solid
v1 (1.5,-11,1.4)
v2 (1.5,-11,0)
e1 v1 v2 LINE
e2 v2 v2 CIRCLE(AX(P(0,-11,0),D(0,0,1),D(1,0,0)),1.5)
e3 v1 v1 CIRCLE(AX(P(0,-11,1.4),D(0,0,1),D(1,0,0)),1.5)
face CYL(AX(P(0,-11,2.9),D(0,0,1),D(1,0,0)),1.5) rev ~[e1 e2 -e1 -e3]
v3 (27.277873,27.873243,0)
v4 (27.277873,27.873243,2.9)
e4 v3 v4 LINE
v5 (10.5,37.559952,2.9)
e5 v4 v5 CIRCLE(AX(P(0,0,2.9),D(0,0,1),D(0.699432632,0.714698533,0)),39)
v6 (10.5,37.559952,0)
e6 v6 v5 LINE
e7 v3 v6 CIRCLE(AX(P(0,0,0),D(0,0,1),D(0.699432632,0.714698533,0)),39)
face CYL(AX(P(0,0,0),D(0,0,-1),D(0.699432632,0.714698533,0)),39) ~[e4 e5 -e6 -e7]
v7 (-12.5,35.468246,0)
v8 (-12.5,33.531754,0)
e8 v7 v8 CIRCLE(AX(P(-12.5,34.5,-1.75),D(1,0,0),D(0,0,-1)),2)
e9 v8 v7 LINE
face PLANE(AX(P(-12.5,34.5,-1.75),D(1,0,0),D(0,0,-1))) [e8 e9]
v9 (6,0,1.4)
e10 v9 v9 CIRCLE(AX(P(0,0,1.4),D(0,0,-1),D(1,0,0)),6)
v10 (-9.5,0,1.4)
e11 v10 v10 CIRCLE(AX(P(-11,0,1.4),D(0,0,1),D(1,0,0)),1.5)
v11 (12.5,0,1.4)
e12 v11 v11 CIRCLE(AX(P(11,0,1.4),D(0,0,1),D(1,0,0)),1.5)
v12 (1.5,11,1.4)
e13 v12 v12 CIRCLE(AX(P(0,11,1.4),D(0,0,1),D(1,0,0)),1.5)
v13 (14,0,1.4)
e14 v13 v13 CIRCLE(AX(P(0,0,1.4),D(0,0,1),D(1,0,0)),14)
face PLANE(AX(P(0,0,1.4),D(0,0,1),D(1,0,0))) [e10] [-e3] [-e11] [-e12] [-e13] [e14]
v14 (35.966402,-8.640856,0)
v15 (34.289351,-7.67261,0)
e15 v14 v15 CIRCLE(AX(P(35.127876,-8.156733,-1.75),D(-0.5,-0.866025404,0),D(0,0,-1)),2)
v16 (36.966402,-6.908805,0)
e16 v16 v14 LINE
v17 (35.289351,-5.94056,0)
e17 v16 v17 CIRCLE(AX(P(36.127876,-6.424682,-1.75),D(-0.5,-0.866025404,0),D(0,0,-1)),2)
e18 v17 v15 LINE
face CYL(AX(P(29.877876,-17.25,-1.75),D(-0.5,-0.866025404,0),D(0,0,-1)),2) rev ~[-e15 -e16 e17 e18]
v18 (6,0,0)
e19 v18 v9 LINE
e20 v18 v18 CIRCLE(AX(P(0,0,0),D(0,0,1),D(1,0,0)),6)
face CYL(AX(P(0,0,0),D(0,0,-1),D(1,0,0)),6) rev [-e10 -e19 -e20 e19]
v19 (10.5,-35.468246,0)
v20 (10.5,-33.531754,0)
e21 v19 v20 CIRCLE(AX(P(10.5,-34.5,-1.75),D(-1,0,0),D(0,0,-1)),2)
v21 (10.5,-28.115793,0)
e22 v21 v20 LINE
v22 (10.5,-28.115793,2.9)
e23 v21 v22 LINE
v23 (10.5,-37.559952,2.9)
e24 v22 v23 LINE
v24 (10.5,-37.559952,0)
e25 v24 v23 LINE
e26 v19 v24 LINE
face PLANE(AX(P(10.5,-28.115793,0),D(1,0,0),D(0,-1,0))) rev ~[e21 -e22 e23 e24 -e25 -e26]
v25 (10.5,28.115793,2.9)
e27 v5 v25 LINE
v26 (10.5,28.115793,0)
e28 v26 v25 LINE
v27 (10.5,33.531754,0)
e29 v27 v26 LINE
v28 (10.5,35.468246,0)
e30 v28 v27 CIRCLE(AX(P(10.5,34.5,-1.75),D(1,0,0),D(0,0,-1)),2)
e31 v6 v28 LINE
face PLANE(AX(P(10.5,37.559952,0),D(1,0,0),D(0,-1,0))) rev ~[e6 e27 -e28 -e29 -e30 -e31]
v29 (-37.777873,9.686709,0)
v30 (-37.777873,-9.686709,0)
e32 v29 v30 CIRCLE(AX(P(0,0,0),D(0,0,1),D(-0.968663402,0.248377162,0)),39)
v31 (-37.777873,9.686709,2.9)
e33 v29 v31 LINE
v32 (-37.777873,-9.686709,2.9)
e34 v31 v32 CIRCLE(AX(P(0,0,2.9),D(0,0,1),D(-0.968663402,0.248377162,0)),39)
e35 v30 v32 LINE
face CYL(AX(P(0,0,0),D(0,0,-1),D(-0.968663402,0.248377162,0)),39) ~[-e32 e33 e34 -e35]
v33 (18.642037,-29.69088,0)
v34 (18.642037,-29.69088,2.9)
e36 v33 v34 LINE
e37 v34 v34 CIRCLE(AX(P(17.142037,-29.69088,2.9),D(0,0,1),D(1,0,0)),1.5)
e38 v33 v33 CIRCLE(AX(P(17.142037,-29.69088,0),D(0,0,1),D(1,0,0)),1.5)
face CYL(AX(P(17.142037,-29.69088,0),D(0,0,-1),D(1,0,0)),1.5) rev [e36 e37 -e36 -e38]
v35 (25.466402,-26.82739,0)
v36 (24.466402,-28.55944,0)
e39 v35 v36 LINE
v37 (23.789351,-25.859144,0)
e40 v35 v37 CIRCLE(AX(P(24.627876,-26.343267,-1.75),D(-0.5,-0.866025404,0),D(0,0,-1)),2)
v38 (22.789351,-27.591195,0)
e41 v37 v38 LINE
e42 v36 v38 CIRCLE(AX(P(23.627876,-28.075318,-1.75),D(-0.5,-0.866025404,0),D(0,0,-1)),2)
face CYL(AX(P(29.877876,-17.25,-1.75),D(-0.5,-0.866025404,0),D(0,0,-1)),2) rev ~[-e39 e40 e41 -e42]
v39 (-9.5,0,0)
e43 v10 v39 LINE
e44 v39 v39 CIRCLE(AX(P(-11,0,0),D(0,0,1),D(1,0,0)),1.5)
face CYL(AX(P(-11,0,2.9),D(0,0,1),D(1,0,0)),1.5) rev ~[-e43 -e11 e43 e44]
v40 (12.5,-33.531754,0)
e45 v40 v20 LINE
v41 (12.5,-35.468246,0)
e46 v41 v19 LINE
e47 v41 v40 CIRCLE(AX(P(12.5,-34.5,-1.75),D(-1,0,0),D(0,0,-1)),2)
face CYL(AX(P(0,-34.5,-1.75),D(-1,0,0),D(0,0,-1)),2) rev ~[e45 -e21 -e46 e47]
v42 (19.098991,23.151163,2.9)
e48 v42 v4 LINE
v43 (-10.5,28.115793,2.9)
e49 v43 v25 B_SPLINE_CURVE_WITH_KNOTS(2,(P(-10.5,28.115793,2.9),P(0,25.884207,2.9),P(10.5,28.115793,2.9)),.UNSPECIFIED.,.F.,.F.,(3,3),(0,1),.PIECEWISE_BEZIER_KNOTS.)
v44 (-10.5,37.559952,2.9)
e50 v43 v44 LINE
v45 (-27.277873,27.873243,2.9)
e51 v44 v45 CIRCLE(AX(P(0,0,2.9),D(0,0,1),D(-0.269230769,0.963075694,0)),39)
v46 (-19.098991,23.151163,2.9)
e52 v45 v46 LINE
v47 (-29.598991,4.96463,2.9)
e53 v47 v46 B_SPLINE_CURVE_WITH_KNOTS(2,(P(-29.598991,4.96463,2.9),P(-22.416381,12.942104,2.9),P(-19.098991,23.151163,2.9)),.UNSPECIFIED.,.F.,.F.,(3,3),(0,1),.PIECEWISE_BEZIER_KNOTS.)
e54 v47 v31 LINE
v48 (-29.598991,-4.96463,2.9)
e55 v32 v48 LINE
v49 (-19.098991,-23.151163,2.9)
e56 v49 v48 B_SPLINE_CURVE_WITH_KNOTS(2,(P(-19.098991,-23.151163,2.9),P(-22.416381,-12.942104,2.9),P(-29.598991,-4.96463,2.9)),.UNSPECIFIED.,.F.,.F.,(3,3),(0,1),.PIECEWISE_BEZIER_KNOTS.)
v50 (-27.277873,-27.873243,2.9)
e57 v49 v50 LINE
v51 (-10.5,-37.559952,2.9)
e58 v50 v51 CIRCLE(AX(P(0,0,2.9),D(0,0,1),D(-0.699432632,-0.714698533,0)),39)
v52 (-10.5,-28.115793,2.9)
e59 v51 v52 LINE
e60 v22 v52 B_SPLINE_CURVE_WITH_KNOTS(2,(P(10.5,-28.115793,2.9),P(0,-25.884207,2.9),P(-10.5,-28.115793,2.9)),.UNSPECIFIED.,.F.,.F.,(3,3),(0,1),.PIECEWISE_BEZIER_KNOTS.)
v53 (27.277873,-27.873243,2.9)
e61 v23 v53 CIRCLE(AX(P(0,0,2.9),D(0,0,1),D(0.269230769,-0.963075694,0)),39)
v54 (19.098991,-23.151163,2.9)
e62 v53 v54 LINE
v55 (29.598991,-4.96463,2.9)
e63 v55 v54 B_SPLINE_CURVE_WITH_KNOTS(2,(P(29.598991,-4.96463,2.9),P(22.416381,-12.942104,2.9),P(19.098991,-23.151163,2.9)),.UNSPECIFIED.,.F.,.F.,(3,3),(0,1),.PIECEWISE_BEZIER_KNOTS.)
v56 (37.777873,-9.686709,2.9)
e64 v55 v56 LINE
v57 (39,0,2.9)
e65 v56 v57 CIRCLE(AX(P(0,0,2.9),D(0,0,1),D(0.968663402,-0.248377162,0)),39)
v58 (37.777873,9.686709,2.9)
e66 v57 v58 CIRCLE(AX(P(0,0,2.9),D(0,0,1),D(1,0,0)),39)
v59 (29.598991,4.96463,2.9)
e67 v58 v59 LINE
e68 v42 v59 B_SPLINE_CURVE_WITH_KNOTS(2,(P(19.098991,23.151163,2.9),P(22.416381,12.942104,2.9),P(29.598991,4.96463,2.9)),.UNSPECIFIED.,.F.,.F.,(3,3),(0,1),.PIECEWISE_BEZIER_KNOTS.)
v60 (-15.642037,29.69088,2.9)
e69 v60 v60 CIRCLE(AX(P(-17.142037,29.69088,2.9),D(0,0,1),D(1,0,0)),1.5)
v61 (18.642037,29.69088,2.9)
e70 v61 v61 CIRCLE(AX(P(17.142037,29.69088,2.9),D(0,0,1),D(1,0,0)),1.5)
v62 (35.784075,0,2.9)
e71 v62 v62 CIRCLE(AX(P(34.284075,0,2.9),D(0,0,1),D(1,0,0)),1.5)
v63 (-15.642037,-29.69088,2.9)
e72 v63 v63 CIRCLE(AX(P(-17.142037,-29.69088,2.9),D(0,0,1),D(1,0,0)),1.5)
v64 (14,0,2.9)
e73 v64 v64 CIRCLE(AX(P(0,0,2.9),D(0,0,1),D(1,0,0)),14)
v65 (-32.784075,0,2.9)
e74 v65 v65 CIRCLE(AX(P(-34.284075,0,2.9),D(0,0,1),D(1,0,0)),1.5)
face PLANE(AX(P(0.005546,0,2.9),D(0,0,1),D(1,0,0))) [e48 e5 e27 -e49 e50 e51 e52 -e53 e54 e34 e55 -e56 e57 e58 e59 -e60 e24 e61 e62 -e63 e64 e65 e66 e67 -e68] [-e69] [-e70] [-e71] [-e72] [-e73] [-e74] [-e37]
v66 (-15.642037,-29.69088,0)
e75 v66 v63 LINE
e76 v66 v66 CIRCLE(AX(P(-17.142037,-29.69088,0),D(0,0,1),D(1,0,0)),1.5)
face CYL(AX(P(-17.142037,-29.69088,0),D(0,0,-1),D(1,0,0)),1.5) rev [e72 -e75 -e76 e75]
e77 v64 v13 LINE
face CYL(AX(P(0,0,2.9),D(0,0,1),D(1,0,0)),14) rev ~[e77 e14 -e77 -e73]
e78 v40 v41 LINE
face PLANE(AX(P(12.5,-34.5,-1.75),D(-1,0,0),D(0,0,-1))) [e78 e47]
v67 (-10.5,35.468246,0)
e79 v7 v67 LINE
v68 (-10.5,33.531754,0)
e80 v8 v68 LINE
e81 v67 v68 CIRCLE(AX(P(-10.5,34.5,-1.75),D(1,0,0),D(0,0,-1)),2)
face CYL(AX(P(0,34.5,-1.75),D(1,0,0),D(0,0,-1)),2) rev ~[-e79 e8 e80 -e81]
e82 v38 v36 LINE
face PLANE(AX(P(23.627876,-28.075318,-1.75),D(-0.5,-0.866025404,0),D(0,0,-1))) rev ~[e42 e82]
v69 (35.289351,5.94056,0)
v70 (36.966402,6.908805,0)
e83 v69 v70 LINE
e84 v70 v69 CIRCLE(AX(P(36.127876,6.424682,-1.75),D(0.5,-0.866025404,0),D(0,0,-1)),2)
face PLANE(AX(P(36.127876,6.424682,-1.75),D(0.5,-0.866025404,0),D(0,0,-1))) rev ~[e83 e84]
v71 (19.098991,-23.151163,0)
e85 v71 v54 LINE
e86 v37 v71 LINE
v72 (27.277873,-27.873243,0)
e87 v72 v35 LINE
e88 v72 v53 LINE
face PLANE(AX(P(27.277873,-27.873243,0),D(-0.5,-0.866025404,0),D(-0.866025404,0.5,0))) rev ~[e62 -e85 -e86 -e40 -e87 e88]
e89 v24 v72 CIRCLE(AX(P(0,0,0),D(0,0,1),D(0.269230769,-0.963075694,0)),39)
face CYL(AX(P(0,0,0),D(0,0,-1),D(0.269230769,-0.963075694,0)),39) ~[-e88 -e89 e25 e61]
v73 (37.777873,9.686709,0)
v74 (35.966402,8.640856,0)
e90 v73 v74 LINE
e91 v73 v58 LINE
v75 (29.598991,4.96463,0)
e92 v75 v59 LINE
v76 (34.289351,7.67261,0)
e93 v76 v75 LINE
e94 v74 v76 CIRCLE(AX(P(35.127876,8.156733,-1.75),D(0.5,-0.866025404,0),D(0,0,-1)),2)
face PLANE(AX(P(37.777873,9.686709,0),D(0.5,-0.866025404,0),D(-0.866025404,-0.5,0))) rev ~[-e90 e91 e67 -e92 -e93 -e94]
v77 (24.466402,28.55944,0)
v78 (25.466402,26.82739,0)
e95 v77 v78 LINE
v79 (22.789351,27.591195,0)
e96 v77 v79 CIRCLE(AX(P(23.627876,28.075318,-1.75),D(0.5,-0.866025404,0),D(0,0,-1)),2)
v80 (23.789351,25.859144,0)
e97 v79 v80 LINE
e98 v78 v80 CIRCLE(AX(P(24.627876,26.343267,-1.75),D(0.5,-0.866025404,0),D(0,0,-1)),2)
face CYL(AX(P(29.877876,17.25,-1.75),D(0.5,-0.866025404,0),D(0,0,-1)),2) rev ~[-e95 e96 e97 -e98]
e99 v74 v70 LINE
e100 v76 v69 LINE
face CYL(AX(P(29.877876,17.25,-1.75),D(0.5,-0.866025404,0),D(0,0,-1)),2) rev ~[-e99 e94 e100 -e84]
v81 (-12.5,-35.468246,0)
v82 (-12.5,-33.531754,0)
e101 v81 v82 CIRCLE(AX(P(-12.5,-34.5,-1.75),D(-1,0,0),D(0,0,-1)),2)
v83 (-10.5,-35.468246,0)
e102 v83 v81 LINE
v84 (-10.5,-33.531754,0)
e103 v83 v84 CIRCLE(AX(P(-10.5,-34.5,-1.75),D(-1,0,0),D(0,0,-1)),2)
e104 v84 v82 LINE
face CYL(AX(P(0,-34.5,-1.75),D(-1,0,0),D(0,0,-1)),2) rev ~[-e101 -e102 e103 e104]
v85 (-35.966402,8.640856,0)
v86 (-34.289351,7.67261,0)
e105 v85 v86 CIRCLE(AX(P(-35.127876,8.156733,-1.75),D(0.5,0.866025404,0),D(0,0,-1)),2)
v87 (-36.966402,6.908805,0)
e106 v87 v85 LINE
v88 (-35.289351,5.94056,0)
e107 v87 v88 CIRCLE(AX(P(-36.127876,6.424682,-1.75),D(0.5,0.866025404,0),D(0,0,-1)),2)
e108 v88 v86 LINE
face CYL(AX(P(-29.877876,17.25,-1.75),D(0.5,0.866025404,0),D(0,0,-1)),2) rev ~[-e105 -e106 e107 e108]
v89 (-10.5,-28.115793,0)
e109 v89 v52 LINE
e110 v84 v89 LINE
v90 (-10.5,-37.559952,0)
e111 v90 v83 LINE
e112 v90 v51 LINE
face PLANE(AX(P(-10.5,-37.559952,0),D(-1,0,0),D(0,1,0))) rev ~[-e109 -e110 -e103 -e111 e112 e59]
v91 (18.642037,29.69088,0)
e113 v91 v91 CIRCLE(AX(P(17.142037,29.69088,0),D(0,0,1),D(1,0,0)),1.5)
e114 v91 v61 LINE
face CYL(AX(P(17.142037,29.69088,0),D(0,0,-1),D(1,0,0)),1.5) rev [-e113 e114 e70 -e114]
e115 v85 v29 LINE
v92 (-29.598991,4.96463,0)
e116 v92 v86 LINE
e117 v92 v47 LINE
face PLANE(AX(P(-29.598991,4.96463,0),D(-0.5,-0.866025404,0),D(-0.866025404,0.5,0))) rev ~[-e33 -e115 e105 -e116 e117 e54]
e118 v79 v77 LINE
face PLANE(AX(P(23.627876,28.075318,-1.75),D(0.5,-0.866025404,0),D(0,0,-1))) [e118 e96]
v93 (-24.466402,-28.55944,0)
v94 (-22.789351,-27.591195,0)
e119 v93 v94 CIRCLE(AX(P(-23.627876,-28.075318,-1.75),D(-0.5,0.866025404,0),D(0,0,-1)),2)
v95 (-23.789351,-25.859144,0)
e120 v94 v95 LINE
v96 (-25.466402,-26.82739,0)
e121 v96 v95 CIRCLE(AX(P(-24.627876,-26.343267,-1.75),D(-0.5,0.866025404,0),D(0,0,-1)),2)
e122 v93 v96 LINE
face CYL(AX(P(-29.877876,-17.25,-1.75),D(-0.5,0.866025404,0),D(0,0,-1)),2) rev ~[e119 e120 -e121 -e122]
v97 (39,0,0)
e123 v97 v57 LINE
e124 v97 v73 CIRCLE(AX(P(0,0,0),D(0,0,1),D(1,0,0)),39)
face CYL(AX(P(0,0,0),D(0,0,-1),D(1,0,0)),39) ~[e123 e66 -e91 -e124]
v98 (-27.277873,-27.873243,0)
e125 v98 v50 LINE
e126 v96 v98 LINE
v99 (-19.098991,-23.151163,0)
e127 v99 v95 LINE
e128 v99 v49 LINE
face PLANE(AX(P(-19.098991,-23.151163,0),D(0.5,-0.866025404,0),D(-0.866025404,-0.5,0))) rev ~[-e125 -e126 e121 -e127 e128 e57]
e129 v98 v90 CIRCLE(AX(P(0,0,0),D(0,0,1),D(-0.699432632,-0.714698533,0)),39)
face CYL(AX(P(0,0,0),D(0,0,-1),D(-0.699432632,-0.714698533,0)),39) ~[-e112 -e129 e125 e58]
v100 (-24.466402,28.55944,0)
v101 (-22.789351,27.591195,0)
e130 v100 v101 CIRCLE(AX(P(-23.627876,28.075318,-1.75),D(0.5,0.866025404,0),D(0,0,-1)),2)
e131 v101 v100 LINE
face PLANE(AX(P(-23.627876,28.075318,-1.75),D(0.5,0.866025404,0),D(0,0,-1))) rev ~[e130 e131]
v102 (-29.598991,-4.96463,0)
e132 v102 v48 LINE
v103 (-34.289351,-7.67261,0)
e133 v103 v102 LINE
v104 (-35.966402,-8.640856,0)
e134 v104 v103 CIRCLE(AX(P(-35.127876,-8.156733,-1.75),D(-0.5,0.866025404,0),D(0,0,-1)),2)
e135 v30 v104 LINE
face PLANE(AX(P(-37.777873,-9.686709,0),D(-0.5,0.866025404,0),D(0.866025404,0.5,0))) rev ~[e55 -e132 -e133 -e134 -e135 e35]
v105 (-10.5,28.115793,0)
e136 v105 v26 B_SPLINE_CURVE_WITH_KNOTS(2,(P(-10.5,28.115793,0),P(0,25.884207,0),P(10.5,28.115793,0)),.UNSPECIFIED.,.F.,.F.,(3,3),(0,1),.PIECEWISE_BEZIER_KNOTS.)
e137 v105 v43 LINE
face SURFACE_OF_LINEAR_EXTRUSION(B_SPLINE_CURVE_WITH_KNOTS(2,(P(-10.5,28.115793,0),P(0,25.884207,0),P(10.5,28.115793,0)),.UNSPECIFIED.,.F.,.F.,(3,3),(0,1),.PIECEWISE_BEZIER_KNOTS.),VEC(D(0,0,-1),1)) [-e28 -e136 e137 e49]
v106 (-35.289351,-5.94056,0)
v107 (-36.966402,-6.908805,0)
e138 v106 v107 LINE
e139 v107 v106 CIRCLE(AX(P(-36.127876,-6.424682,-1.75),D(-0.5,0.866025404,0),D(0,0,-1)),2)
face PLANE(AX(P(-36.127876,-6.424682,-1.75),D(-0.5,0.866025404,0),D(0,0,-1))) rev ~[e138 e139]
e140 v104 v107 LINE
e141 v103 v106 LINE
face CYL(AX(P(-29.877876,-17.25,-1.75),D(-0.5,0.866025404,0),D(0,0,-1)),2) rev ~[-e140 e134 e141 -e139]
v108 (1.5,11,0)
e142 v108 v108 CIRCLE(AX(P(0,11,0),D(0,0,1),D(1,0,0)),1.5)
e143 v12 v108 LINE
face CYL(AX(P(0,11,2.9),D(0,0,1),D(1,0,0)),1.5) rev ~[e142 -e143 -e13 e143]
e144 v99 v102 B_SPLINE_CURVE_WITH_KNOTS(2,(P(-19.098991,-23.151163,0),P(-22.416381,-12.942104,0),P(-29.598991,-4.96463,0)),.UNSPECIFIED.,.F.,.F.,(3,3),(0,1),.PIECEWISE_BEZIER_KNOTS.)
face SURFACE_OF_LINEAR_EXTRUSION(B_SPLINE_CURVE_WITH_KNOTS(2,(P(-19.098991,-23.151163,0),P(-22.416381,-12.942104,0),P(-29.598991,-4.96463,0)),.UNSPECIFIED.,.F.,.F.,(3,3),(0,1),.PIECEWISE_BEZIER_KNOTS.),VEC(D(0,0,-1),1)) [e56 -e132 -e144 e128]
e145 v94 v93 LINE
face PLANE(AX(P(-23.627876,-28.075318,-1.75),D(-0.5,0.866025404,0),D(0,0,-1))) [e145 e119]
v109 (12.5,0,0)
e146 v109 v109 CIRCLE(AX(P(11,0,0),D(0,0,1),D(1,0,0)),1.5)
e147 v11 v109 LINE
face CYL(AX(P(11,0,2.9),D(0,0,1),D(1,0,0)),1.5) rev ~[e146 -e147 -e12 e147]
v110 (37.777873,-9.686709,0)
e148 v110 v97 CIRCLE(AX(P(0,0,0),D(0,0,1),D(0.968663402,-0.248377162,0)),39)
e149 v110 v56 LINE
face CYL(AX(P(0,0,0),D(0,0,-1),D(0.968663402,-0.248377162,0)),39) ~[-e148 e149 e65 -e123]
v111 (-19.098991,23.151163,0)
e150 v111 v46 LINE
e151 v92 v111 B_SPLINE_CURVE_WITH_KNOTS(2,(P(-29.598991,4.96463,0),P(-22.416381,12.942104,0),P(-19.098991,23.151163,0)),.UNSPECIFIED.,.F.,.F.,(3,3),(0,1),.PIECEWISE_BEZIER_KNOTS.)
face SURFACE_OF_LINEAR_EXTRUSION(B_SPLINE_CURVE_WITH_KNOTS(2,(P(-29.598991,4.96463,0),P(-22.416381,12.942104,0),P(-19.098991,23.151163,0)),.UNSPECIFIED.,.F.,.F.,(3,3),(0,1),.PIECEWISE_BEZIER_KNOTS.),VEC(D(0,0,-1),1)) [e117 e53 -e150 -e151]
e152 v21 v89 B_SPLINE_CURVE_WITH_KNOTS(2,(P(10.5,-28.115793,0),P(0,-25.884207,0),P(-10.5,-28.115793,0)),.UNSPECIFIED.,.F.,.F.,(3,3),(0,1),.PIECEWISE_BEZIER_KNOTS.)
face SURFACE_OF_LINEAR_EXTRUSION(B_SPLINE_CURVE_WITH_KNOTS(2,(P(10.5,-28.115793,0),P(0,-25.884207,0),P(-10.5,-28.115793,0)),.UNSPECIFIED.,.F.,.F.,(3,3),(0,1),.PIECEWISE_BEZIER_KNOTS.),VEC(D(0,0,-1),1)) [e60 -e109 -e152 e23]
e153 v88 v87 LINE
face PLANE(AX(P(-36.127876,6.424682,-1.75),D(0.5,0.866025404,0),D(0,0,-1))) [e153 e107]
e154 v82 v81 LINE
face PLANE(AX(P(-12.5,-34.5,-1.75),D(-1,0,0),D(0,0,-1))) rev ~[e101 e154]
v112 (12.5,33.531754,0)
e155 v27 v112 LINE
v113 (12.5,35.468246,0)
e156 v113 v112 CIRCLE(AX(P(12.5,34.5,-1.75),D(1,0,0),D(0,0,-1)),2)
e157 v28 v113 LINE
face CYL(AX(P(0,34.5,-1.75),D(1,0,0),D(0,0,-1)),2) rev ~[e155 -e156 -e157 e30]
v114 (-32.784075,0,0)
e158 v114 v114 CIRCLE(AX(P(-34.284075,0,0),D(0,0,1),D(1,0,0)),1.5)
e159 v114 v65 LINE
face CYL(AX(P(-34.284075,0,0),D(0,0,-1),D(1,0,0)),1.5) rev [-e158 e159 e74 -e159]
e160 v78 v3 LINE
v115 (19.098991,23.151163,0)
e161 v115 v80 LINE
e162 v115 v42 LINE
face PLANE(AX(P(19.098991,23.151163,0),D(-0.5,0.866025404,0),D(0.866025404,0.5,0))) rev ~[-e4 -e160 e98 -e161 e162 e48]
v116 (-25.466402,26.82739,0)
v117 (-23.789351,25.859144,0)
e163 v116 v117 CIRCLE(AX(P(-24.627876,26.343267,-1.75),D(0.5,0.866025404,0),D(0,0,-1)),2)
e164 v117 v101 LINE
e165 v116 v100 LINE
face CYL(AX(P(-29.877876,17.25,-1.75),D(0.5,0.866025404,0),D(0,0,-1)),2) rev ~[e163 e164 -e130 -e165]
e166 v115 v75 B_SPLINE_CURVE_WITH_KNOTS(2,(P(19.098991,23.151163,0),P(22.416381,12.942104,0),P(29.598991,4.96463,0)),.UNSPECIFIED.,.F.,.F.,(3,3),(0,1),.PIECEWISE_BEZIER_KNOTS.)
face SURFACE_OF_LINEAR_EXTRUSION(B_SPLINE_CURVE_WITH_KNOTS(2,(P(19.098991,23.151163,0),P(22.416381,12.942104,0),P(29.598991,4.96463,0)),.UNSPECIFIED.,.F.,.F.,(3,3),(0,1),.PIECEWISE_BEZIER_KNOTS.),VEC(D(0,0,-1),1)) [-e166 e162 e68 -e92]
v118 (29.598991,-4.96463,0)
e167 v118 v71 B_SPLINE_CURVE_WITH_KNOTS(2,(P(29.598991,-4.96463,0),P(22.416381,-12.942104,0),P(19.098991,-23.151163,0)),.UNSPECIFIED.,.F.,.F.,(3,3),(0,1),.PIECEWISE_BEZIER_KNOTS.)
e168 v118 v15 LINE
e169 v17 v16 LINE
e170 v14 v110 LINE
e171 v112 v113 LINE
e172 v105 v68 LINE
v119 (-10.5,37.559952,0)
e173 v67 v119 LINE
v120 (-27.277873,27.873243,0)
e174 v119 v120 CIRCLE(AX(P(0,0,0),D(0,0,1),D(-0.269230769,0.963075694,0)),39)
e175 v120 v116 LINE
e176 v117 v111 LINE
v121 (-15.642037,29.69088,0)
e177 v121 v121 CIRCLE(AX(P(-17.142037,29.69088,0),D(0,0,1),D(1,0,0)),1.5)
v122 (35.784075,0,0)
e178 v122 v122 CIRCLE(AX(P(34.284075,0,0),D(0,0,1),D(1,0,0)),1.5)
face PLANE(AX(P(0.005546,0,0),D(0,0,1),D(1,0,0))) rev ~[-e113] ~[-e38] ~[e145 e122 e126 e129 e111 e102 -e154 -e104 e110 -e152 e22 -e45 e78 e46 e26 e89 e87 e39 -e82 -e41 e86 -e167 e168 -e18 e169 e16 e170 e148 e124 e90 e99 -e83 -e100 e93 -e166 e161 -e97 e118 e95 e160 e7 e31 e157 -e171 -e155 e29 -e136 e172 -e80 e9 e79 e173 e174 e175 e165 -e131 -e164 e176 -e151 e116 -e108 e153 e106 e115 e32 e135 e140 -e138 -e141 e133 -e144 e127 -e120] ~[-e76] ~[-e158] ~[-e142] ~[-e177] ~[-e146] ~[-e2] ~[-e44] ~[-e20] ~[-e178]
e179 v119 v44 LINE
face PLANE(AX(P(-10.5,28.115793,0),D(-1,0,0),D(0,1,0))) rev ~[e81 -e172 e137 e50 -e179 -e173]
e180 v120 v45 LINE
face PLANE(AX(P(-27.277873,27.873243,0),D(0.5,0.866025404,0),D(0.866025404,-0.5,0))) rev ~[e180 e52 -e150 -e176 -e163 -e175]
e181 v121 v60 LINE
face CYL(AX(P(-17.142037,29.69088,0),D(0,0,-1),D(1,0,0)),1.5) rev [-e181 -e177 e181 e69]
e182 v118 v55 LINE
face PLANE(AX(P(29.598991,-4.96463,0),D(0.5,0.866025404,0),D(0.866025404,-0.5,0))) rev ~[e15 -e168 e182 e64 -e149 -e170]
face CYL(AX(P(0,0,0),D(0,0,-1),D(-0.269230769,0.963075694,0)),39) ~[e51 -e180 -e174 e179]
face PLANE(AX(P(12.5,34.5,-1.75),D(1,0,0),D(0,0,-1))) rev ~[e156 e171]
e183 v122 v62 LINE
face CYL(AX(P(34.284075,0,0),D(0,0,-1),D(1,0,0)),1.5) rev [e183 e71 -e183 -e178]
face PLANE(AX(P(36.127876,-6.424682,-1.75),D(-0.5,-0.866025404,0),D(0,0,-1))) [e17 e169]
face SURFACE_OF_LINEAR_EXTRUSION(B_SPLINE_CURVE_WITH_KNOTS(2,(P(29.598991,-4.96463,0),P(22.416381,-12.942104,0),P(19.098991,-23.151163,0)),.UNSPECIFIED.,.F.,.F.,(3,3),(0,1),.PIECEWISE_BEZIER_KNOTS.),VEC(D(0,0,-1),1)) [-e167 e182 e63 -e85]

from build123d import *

# Parameters (mm, degrees)
CROQUIS2_R              = 1.5
CROQUIS2_R_2            = 6
SALIENTE_EXTRUIR2_DEPTH = 2.9
CROQUIS4_R              = 2
CORTAR_EXTRUIR1_DEPTH   = 12.5
MATRIZC1_COUNT          = 6
CROQUIS5_R              = 1.5
CORTAR_EXTRUIR2_DEPTH   = 10
CROQUIS6_R              = 14
CORTAR_EXTRUIR3_DEPTH   = 1.5


with BuildPart() as part:
    # Croquis2 → Saliente-Extruir2 (new body)
    with BuildSketch(Plane.XY):
        with BuildLine():
            Line((-10.5, 28.115792599), (-10.5, 37.559952077))
            ThreePointArc((-10.5, 37.559952077), (-19.5, 33.774990748), (-27.277872663, 27.873242778))
            Line((-27.277872663, 27.873242778), (-19.098990638, 23.151163039))
            add(Edge.make_bspline(
                [(-29.598990638, 4.96462956), (-22.416381166, 12.9421037), (-19.098990638, 23.151163039)],
                knots=[0, 0, 0, 1, 1, 1], degree=2))
            Line((-29.598990638, 4.96462956), (-37.777872663, 9.686709299))
            ThreePointArc((-37.777872663, 9.686709299), (-39, 0), (-37.777872663, -9.686709299))
            Line((-37.777872663, -9.686709299), (-29.598990638, -4.96462956))
            add(Edge.make_bspline(
                [(-19.098990638, -23.151163039), (-22.416381166, -12.9421037), (-29.598990638, -4.96462956)],
                knots=[0, 0, 0, 1, 1, 1], degree=2))
            Line((-19.098990638, -23.151163039), (-27.277872663, -27.873242778))
            ThreePointArc((-27.277872663, -27.873242778), (-19.5, -33.774990748), (-10.5, -37.559952077))
            Line((-10.5, -37.559952077), (-10.5, -28.115792599))
            add(Edge.make_bspline(
                [(10.5, -28.115792599), (0, -25.884207401), (-10.5, -28.115792599)],
                knots=[0, 0, 0, 1, 1, 1], degree=2))
            Line((10.5, -28.115792599), (10.5, -37.559952077))
            ThreePointArc((10.5, -37.559952077), (19.5, -33.774990748), (27.277872663, -27.873242778))
            Line((27.277872663, -27.873242778), (19.098990638, -23.151163039))
            add(Edge.make_bspline(
                [(29.598990638, -4.96462956), (22.416381166, -12.9421037), (19.098990638, -23.151163039)],
                knots=[0, 0, 0, 1, 1, 1], degree=2))
            Line((29.598990638, -4.96462956), (37.777872663, -9.686709299))
            ThreePointArc((37.777872663, -9.686709299), (38.693261906, -4.88175), (39, 0))
            ThreePointArc((39, 0), (38.693261906, 4.88175), (37.777872663, 9.686709299))
            Line((37.777872663, 9.686709299), (29.598990638, 4.96462956))
            add(Edge.make_bspline(
                [(19.098990638, 23.151163039), (22.416381166, 12.9421037), (29.598990638, 4.96462956)],
                knots=[0, 0, 0, 1, 1, 1], degree=2))
            Line((19.098990638, 23.151163039), (27.277872663, 27.873242778))
            ThreePointArc((27.277872663, 27.873242778), (19.5, 33.774990748), (10.5, 37.559952077))
            Line((10.5, 37.559952077), (10.5, 28.115792599))
            add(Edge.make_bspline(
                [(-10.5, 28.115792599), (0, 25.884207401), (10.5, 28.115792599)],
                knots=[0, 0, 0, 1, 1, 1], degree=2))
        make_face()
        with Locations((-17.142037335, -29.69087961)):
            Circle(CROQUIS2_R, mode=Mode.SUBTRACT)
        with Locations((-34.28407467, 0)):
            Circle(CROQUIS2_R, mode=Mode.SUBTRACT)
        with Locations((17.142037335, -29.69087961)):
            Circle(CROQUIS2_R, mode=Mode.SUBTRACT)
        with Locations((-17.142037335, 29.69087961)):
            Circle(CROQUIS2_R, mode=Mode.SUBTRACT)
        Circle(CROQUIS2_R_2, mode=Mode.SUBTRACT)
        with Locations((34.28407467, 0)):
            Circle(CROQUIS2_R, mode=Mode.SUBTRACT)
        with Locations((17.142037335, 29.69087961)):
            Circle(CROQUIS2_R, mode=Mode.SUBTRACT)
    extrude(amount=SALIENTE_EXTRUIR2_DEPTH)

    # Croquis4 → Cortar-Extruir1 (cut, symmetric)
    with BuildSketch(Plane(origin=(0, 0, 0), x_dir=(0, 0, -1), z_dir=(1, 0, 0))):
        with Locations((1.75, 34.5)):
            Circle(CROQUIS4_R)
    cortar_extruir1 = extrude(amount=CORTAR_EXTRUIR1_DEPTH, both=True, mode=Mode.SUBTRACT)

    # MatrizC1: Cortar-Extruir1 ×6 about axis
    matrizc1_axis = Axis((0, 0, 0), (0, 0, 1))
    for i in range(1, MATRIZC1_COUNT):
        add(cortar_extruir1.rotate(matrizc1_axis, i * 360 / MATRIZC1_COUNT), mode=Mode.SUBTRACT)

    # Croquis5 → Cortar-Extruir2 (cut)
    with BuildSketch(Plane.XY.offset(2.9)):
        with Locations((11, 0)):
            Circle(CROQUIS5_R)
        with Locations((0, -11)):
            Circle(CROQUIS5_R)
        with Locations((-11, 0)):
            Circle(CROQUIS5_R)
        with Locations((0, 11)):
            Circle(CROQUIS5_R)
    extrude(amount=-CORTAR_EXTRUIR2_DEPTH, mode=Mode.SUBTRACT)

    # Croquis6 → Cortar-Extruir3 (cut)
    with BuildSketch(Plane.XY.offset(2.9)):
        Circle(CROQUIS6_R)
    extrude(amount=-CORTAR_EXTRUIR3_DEPTH, mode=Mode.SUBTRACT)


solid = part.part
